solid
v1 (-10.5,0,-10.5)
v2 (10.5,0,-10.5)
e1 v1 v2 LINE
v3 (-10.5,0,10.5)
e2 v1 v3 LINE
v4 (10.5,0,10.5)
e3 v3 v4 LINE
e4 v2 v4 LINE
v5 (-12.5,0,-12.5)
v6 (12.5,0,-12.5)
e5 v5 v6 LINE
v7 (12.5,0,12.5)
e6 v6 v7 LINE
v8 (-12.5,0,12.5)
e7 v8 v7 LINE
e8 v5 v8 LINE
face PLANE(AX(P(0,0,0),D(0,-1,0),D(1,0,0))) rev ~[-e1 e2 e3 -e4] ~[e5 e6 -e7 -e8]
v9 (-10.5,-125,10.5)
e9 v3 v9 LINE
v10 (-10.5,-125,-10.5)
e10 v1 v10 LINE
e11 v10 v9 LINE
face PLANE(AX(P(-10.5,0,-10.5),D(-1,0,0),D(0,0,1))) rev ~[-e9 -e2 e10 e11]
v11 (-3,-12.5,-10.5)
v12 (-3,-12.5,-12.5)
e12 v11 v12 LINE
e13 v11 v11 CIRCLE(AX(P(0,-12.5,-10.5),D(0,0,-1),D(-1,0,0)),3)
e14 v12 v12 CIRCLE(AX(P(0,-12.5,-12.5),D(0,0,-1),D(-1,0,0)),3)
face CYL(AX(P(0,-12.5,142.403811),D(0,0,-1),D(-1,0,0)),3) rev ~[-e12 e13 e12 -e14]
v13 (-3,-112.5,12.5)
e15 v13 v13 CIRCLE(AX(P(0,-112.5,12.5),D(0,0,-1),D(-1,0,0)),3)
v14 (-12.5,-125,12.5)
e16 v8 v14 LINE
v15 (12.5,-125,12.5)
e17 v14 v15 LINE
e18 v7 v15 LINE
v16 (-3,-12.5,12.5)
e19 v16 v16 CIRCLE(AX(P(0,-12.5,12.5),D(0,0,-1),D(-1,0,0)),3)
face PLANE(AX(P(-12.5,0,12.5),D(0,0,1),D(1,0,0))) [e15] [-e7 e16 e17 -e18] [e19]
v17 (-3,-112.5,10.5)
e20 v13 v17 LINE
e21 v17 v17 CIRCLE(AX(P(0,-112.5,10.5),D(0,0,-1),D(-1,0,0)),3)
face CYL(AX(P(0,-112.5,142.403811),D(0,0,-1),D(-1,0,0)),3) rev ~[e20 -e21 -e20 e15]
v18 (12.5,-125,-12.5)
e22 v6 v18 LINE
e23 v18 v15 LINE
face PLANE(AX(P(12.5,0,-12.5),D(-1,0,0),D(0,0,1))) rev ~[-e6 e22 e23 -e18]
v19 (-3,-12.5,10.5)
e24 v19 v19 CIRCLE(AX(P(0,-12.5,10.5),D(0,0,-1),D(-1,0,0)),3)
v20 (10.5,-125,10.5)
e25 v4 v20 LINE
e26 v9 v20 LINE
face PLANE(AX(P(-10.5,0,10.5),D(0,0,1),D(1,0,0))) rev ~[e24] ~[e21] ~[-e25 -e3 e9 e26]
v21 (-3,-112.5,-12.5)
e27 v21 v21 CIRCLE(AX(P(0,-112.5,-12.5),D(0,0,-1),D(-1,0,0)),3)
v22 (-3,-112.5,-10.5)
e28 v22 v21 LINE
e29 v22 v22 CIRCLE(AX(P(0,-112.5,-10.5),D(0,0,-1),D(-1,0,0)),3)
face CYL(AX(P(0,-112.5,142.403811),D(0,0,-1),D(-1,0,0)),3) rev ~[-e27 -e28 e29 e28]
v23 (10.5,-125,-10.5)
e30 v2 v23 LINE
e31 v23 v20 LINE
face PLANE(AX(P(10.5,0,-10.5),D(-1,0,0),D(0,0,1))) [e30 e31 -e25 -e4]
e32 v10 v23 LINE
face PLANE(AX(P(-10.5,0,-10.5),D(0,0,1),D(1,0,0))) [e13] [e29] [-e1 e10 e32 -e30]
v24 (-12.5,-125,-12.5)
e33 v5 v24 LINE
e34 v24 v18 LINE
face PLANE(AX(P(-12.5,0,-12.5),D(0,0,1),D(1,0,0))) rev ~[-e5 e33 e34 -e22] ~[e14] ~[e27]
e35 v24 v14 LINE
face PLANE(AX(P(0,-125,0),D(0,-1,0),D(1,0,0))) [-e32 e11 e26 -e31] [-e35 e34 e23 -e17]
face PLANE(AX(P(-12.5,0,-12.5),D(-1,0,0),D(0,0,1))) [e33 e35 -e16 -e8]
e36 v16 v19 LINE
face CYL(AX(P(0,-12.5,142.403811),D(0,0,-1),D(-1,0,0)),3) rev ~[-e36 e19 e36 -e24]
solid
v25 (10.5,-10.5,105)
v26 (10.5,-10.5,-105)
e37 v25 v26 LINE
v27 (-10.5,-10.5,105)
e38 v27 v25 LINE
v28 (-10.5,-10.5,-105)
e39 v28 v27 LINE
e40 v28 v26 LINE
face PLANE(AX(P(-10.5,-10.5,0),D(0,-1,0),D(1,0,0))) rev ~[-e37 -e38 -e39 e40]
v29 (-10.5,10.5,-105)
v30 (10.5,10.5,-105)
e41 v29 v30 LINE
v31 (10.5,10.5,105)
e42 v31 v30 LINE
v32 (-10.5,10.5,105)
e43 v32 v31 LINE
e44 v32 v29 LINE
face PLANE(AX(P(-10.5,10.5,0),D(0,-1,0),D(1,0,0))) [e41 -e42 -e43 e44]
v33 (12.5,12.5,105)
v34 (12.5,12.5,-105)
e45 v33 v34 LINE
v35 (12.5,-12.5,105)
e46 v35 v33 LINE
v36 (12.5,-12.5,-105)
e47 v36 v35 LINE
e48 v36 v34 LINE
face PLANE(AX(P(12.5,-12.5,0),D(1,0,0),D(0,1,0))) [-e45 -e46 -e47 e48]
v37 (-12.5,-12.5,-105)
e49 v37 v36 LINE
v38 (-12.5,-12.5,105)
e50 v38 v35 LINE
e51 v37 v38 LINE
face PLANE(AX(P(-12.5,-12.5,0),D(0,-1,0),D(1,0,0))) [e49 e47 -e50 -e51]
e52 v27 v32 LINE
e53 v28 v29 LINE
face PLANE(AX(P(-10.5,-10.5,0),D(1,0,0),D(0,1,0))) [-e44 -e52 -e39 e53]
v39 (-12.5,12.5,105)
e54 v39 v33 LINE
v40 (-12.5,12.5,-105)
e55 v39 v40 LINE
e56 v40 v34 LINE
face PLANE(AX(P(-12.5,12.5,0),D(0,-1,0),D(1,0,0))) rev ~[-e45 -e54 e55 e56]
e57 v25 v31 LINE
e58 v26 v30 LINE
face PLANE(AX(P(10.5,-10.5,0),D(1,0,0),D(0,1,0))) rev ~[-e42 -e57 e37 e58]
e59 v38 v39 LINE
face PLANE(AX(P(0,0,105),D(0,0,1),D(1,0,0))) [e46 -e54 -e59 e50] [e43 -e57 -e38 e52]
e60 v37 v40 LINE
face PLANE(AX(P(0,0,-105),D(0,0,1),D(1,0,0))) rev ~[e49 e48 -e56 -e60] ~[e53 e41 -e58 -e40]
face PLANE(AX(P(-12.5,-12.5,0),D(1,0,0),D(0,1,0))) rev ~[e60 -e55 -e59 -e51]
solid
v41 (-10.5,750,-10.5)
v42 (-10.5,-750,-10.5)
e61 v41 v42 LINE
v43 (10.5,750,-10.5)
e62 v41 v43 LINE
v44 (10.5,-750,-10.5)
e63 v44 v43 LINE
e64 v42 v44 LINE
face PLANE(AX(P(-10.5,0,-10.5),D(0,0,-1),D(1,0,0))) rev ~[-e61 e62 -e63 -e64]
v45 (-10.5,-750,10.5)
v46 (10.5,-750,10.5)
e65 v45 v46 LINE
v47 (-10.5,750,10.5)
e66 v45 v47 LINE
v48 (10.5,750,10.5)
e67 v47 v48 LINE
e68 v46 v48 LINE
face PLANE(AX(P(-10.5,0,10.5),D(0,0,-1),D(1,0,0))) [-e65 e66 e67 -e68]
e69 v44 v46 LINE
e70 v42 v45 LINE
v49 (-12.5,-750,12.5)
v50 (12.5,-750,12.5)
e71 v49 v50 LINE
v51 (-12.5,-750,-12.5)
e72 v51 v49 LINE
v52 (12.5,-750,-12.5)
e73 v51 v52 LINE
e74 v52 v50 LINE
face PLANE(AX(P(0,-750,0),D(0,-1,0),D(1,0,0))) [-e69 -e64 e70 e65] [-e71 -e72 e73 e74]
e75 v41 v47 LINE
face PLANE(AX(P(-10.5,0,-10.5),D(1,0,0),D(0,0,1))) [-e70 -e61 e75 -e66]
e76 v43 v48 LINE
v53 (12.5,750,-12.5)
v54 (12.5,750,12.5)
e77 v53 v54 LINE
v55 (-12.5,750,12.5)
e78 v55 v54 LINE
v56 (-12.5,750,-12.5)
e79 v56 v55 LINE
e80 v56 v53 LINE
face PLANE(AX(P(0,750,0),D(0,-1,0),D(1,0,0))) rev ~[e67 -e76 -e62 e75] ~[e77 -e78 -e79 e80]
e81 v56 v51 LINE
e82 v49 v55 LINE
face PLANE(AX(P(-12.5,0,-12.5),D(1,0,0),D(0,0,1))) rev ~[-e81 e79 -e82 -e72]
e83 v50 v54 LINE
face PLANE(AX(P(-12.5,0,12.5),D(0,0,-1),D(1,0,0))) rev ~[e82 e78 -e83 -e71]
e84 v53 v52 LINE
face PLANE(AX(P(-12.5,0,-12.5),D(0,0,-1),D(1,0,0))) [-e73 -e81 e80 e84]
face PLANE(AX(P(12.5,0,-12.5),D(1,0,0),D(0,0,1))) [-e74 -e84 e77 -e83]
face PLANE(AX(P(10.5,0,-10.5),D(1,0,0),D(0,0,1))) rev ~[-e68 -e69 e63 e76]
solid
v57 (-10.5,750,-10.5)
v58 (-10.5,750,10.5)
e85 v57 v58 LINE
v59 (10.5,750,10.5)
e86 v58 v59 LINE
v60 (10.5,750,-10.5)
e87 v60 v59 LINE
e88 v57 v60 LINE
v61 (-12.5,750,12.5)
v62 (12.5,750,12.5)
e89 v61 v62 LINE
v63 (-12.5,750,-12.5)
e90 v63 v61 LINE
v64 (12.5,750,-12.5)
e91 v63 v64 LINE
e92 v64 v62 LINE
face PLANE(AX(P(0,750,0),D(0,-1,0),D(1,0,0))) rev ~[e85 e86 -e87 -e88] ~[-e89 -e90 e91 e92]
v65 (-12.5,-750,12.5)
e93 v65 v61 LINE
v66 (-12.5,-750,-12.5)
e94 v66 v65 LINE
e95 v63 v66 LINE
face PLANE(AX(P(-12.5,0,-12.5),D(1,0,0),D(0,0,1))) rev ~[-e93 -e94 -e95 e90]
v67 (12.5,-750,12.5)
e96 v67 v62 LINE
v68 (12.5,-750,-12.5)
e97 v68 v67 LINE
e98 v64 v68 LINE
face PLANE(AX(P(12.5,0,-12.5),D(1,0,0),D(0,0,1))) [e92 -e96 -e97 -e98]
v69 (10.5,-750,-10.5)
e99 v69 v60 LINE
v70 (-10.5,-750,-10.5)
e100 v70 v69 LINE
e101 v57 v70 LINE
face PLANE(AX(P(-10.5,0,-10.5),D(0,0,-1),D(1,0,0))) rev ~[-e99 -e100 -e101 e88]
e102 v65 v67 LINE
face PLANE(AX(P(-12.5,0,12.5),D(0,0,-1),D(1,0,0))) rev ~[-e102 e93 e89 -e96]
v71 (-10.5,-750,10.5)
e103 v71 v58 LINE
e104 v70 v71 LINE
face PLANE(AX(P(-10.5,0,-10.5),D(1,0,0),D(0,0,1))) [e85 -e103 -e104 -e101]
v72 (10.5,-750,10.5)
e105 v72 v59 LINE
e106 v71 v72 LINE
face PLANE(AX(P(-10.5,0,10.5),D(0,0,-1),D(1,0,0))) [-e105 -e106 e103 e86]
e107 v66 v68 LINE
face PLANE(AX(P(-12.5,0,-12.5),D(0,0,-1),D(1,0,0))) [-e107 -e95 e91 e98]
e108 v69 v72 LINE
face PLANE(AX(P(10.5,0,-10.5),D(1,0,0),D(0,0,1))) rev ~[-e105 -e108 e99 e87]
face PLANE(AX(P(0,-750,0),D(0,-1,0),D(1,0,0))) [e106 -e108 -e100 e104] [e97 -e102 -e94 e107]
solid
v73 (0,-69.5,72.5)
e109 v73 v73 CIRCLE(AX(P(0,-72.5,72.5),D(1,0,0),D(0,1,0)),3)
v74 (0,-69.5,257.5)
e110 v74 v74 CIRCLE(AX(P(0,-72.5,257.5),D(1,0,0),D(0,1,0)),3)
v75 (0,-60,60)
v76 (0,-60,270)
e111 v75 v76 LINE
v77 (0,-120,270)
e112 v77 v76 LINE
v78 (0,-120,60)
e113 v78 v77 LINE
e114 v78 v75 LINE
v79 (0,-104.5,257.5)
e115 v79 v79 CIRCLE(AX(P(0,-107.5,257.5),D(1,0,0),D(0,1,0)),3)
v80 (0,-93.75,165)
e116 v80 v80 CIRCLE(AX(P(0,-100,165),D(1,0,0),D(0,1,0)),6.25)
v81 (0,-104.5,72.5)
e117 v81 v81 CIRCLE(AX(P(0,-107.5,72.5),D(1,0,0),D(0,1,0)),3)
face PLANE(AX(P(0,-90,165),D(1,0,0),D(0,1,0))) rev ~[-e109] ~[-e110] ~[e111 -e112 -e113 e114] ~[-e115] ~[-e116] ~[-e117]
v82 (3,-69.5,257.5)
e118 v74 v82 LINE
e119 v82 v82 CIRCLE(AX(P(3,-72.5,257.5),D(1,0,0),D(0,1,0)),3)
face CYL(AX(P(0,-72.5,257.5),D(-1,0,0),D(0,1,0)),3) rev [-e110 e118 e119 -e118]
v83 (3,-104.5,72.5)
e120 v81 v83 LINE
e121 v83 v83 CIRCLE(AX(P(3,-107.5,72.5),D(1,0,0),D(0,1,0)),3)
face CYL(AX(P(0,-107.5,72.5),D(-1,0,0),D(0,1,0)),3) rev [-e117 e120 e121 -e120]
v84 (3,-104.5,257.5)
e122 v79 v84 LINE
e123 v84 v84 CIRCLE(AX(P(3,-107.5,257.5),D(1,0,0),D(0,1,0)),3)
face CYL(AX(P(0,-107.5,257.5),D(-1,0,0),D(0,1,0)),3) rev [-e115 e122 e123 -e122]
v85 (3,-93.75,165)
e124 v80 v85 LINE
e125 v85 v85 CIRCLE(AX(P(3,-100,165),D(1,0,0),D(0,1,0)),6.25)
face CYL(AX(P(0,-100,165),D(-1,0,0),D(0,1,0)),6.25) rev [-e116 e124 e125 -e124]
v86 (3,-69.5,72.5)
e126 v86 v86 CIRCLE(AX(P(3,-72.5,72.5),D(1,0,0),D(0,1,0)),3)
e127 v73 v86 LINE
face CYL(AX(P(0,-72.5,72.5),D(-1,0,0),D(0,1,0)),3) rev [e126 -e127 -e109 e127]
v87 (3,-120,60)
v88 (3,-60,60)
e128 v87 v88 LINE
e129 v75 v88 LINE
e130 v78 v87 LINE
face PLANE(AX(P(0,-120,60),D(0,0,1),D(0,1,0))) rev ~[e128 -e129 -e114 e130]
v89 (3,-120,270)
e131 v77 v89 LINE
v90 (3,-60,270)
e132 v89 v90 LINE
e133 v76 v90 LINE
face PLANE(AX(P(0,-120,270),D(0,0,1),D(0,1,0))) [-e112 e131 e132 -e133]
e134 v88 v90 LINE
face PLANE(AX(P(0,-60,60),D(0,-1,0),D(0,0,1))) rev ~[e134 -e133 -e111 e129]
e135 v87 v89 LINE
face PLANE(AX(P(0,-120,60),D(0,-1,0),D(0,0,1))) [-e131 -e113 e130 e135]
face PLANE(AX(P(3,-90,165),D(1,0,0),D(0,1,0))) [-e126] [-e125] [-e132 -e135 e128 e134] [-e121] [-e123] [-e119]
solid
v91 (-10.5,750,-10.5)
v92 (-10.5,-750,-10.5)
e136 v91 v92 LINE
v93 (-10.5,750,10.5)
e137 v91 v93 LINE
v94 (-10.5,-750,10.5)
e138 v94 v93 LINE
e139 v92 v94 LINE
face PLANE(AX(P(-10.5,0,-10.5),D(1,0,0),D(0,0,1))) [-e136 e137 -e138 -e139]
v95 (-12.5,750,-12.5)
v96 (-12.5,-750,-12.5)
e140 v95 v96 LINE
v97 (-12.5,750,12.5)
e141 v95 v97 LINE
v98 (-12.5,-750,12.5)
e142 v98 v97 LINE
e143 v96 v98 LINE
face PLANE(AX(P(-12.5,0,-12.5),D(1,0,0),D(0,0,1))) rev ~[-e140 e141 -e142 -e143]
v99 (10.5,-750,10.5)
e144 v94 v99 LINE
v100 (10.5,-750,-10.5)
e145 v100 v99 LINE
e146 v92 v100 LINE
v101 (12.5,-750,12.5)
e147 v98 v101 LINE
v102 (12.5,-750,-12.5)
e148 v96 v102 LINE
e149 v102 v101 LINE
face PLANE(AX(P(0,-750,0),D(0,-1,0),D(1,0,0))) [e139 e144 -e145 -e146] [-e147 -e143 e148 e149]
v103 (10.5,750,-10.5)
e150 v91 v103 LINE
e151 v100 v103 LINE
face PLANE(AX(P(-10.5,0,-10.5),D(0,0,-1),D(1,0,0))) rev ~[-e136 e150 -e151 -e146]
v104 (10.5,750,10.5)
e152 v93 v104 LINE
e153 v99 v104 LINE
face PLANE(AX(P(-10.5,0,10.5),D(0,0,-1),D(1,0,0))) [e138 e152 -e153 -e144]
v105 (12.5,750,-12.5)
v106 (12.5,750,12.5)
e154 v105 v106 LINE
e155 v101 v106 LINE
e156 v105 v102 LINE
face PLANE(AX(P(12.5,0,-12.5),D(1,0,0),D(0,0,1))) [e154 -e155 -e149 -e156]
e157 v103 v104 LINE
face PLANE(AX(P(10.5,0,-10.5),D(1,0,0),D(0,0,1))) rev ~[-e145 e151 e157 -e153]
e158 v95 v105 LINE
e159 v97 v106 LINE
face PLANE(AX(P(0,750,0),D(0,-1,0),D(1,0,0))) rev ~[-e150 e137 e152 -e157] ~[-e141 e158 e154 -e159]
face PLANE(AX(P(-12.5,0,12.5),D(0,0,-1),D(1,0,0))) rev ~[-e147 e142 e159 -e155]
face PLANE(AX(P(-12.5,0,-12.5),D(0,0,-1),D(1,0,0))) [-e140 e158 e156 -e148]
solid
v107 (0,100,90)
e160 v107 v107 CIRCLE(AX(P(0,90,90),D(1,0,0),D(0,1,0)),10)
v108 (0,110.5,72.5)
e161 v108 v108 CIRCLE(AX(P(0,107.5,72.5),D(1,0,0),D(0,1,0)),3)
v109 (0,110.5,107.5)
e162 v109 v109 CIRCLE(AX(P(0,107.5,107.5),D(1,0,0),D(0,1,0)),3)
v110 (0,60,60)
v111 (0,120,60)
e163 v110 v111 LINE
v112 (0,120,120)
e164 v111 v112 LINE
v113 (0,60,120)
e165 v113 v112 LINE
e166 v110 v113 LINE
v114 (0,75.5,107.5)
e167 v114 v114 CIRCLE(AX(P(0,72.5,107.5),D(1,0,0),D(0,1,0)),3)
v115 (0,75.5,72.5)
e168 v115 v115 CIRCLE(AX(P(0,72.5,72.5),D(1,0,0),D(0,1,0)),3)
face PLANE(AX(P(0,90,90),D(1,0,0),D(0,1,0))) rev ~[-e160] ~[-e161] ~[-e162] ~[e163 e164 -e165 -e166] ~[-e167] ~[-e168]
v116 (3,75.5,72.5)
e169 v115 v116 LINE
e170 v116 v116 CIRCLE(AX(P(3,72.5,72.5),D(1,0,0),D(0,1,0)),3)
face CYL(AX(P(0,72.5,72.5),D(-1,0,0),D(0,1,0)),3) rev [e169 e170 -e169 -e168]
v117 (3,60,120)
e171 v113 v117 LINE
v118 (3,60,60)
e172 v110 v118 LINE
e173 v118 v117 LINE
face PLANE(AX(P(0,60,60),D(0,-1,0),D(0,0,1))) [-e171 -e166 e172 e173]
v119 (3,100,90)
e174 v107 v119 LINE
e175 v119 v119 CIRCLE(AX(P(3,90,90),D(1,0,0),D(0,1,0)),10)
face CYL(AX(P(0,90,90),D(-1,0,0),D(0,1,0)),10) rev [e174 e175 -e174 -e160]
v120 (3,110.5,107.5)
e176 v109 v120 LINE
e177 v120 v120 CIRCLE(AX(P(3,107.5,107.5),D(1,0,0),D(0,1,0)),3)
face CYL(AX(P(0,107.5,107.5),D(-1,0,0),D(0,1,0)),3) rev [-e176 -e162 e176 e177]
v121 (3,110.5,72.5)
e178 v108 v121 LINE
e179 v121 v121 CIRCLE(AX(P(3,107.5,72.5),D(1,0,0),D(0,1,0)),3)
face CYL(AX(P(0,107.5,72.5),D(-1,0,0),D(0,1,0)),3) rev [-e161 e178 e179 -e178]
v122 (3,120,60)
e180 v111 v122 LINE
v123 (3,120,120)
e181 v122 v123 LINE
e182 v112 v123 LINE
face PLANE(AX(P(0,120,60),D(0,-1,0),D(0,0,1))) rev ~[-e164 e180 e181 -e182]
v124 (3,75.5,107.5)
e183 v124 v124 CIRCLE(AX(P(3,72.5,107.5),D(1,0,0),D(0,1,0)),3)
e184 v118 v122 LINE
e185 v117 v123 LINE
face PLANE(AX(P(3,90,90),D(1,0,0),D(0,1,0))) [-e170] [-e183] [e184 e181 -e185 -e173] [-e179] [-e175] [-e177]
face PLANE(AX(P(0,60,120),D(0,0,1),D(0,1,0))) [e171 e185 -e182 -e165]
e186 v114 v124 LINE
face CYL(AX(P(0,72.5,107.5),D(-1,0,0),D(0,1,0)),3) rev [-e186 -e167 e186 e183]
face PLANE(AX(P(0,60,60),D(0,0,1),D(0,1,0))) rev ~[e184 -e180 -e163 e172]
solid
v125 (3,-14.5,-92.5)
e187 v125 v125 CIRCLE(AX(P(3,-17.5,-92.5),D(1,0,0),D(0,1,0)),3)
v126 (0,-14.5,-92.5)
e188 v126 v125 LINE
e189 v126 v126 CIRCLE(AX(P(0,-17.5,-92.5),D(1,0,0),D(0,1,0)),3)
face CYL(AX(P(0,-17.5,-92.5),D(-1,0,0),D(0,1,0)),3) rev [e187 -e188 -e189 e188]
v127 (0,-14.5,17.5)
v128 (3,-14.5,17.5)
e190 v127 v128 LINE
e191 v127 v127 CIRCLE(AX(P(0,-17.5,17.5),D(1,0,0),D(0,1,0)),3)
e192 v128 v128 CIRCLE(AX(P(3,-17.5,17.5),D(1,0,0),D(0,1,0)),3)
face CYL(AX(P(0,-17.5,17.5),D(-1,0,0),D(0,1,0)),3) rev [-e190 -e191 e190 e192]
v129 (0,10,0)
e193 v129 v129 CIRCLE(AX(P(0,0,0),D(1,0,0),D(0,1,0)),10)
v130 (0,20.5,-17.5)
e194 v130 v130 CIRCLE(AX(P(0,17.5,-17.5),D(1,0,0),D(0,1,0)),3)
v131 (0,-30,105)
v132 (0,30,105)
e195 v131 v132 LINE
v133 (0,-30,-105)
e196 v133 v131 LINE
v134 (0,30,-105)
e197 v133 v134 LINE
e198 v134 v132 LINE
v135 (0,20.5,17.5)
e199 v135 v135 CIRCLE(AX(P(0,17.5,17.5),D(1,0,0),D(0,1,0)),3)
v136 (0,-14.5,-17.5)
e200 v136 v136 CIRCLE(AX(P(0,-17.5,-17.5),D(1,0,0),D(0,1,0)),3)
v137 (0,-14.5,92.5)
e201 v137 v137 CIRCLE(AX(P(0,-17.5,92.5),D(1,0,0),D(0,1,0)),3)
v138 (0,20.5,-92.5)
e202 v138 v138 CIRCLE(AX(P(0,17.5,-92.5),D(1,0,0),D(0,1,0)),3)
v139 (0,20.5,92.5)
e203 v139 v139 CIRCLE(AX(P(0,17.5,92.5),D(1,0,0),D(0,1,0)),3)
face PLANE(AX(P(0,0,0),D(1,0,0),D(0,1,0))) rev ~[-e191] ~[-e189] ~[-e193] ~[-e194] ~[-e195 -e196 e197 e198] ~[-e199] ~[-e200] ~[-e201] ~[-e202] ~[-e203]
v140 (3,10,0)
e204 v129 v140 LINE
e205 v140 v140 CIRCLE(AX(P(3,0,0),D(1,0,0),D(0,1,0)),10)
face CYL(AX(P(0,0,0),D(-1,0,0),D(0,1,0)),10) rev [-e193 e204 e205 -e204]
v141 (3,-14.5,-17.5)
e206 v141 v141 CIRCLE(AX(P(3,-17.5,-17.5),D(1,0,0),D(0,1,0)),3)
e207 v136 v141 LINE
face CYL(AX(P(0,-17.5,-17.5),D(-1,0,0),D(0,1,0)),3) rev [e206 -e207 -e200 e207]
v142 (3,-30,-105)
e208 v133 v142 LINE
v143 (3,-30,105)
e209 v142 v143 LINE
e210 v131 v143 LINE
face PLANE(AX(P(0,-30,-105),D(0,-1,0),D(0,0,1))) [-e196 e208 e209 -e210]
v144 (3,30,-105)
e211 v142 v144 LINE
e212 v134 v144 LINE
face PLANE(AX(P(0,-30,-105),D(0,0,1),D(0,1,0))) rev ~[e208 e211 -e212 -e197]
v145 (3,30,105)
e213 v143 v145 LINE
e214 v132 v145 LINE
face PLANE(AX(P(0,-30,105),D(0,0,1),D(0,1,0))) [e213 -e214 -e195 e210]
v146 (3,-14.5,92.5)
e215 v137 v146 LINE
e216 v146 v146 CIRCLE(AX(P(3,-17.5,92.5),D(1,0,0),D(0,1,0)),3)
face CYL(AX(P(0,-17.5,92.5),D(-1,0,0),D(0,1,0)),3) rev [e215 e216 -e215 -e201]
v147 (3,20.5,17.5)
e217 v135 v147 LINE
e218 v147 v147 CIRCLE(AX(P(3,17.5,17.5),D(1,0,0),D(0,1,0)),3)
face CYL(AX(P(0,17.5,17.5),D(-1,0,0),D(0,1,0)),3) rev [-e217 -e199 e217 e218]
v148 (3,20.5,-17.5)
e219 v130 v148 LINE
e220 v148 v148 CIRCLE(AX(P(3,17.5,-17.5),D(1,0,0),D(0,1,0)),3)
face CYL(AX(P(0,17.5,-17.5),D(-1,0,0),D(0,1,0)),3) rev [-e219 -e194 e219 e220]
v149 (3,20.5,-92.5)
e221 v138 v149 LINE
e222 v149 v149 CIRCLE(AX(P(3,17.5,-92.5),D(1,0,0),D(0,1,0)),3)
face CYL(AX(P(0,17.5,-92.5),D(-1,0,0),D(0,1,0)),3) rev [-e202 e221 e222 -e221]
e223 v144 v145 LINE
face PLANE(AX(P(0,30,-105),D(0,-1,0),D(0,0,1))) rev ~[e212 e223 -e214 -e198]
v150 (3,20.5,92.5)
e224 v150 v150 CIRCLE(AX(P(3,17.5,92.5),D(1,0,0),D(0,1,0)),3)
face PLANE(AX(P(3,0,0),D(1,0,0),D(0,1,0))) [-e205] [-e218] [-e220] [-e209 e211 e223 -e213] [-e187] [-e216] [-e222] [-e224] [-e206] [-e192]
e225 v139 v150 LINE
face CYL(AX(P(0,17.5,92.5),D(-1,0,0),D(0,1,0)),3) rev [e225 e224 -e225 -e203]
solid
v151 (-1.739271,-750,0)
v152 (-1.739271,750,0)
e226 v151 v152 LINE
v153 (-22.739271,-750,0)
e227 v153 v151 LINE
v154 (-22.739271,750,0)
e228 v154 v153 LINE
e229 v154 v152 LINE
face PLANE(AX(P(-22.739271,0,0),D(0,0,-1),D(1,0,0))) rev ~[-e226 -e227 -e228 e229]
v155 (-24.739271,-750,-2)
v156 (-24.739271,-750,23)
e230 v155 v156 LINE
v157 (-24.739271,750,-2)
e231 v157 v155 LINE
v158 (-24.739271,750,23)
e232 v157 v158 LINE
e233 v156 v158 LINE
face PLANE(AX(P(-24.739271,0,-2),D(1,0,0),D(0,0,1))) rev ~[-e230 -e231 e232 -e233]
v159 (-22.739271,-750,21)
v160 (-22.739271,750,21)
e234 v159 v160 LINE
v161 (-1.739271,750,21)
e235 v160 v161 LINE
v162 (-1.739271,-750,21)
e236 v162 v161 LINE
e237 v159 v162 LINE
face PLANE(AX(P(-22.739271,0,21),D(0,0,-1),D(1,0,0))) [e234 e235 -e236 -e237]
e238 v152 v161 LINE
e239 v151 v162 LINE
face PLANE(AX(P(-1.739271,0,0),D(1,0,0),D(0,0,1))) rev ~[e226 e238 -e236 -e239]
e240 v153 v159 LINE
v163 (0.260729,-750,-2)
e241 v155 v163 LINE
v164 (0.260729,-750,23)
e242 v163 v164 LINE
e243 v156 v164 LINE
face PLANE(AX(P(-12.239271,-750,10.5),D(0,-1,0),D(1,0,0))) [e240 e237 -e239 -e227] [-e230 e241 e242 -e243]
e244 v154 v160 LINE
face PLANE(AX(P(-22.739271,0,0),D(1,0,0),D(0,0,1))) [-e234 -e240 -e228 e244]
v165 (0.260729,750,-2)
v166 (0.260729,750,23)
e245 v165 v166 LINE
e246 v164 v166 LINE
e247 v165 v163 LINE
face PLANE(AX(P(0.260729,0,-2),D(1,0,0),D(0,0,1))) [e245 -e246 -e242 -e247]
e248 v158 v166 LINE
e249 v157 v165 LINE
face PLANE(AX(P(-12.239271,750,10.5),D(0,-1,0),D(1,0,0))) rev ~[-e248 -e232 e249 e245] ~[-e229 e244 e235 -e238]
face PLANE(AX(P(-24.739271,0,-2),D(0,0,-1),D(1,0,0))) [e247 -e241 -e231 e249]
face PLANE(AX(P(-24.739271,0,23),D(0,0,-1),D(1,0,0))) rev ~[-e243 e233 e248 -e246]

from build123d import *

# Parameters (mm, degrees)
F0_W      = 25
F0_H      = 25
F0_W_2    = 21
F0_H_2    = 21
F1_DEPTH  = 750
F2_W      = 25
F2_H      = 25
F2_W_2    = 21
F2_H_2    = 21
F3_DEPTH  = 750
F4_W      = 25
F4_H      = 25
F4_W_2    = 21
F4_H_2    = 21
F5_DEPTH  = 750
F6_W      = 25
F6_H      = 25
F6_W_2    = 21
F6_H_2    = 21
F7_DEPTH  = 750
F8_W      = 25
F8_H      = 25
F8_W_2    = 21
F8_H_2    = 21
F9_DEPTH  = 105
F10_W     = 60
F10_H     = 210
F10_R     = 3
F10_R_2   = 6.25
F11_DEPTH = 3
F12_W     = 60
F12_H     = 60
F12_R     = 3
F12_R_2   = 10
F13_DEPTH = 3
F14_W     = 60
F14_H     = 210
F14_R     = 3
F14_R_2   = 10
F15_DEPTH = 3
F16_W     = 25
F16_H     = 25
F16_W_2   = 21
F16_H_2   = 21
F17_DEPTH = 125
F19_D     = 6
F20_D     = 6


with BuildPart() as f1:
    # F0 (on Front) → F1 (new body, symmetric)
    with BuildSketch(Plane.XZ):
        Rectangle(F0_W, F0_H)
        Rectangle(F0_W_2, F0_H_2, mode=Mode.SUBTRACT)
    extrude(amount=F1_DEPTH, both=True)


with BuildPart() as f3:
    # F2 (on Front) → F3 (new body, symmetric)
    with BuildSketch(Plane.XZ):
        Rectangle(F2_W, F2_H)
        Rectangle(F2_W_2, F2_H_2, mode=Mode.SUBTRACT)
    extrude(amount=F3_DEPTH, both=True)


with BuildPart() as f5:
    # F4 (on Front) → F5 (new body, symmetric)
    with BuildSketch(Plane.XZ):
        with Locations((-12.239270702, 10.5)):
            Rectangle(F4_W, F4_H)
        with Locations((-12.239270702, 10.5)):
            Rectangle(F4_W_2, F4_H_2, mode=Mode.SUBTRACT)
    extrude(amount=F5_DEPTH, both=True)


with BuildPart() as f7:
    # F6 (on Front) → F7 (new body, symmetric)
    with BuildSketch(Plane.XZ):
        Rectangle(F6_W, F6_H)
        Rectangle(F6_W_2, F6_H_2, mode=Mode.SUBTRACT)
    extrude(amount=F7_DEPTH, both=True)


with BuildPart() as f9:
    # F8 (on Top) → F9 (new body, symmetric)
    with BuildSketch(Plane.XY):
        Rectangle(F8_W, F8_H)
        Rectangle(F8_W_2, F8_H_2, mode=Mode.SUBTRACT)
    extrude(amount=F9_DEPTH, both=True)


with BuildPart() as f11:
    # F10 (on Right) → F11 (new body)
    with BuildSketch(Plane.YZ):
        with Locations((-90, 165)):
            Rectangle(F10_W, F10_H)
        with Locations((-107.5, 72.5)):
            Circle(F10_R, mode=Mode.SUBTRACT)
        with Locations((-72.5, 72.5)):
            Circle(F10_R, mode=Mode.SUBTRACT)
        with Locations((-100, 165)):
            Circle(F10_R_2, mode=Mode.SUBTRACT)
        with Locations((-107.5, 257.5)):
            Circle(F10_R, mode=Mode.SUBTRACT)
        with Locations((-72.5, 257.5)):
            Circle(F10_R, mode=Mode.SUBTRACT)
    extrude(amount=F11_DEPTH)


with BuildPart() as f13:
    # F12 (on Right) → F13 (new body)
    with BuildSketch(Plane.YZ):
        with Locations((90, 90)):
            Rectangle(F12_W, F12_H)
        with Locations((72.5, 72.5)):
            Circle(F12_R, mode=Mode.SUBTRACT)
        with Locations((107.5, 72.5)):
            Circle(F12_R, mode=Mode.SUBTRACT)
        with Locations((72.5, 107.5)):
            Circle(F12_R, mode=Mode.SUBTRACT)
        with Locations((90, 90)):
            Circle(F12_R_2, mode=Mode.SUBTRACT)
        with Locations((107.5, 107.5)):
            Circle(F12_R, mode=Mode.SUBTRACT)
    extrude(amount=F13_DEPTH)


with BuildPart() as f15:
    # F14 (on Right) → F15 (new body)
    with BuildSketch(Plane.YZ):
        Rectangle(F14_W, F14_H)
        with Locations((-17.5, -92.5)):
            Circle(F14_R, mode=Mode.SUBTRACT)
        with Locations((-17.5, -17.5)):
            Circle(F14_R, mode=Mode.SUBTRACT)
        with Locations((17.5, -92.5)):
            Circle(F14_R, mode=Mode.SUBTRACT)
        with Locations((17.5, -17.5)):
            Circle(F14_R, mode=Mode.SUBTRACT)
        with Locations((-17.5, 17.5)):
            Circle(F14_R, mode=Mode.SUBTRACT)
        with Locations((-17.5, 92.5)):
            Circle(F14_R, mode=Mode.SUBTRACT)
        Circle(F14_R_2, mode=Mode.SUBTRACT)
        with Locations((17.5, 17.5)):
            Circle(F14_R, mode=Mode.SUBTRACT)
        with Locations((17.5, 92.5)):
            Circle(F14_R, mode=Mode.SUBTRACT)
    extrude(amount=F15_DEPTH)


with BuildPart() as f17:
    # F16 (on Front) → F17 (new body)
    with BuildSketch(Plane.XZ):
        Rectangle(F16_W, F16_H)
        Rectangle(F16_W_2, F16_H_2, mode=Mode.SUBTRACT)
    extrude(amount=F17_DEPTH)

    # F19 (through all)
    with Locations(Plane.XY.offset(12.5)):
        with Locations((0, -112.5)):
            Hole(F19_D / 2)

    # F20 (through all)
    with Locations(Plane.XY.offset(12.5)):
        with Locations((0, -12.5)):
            Hole(F20_D / 2)


solid = Compound([f1.part, f3.part, f5.part, f7.part, f9.part, f11.part, f13.part, f15.part, f17.part])
